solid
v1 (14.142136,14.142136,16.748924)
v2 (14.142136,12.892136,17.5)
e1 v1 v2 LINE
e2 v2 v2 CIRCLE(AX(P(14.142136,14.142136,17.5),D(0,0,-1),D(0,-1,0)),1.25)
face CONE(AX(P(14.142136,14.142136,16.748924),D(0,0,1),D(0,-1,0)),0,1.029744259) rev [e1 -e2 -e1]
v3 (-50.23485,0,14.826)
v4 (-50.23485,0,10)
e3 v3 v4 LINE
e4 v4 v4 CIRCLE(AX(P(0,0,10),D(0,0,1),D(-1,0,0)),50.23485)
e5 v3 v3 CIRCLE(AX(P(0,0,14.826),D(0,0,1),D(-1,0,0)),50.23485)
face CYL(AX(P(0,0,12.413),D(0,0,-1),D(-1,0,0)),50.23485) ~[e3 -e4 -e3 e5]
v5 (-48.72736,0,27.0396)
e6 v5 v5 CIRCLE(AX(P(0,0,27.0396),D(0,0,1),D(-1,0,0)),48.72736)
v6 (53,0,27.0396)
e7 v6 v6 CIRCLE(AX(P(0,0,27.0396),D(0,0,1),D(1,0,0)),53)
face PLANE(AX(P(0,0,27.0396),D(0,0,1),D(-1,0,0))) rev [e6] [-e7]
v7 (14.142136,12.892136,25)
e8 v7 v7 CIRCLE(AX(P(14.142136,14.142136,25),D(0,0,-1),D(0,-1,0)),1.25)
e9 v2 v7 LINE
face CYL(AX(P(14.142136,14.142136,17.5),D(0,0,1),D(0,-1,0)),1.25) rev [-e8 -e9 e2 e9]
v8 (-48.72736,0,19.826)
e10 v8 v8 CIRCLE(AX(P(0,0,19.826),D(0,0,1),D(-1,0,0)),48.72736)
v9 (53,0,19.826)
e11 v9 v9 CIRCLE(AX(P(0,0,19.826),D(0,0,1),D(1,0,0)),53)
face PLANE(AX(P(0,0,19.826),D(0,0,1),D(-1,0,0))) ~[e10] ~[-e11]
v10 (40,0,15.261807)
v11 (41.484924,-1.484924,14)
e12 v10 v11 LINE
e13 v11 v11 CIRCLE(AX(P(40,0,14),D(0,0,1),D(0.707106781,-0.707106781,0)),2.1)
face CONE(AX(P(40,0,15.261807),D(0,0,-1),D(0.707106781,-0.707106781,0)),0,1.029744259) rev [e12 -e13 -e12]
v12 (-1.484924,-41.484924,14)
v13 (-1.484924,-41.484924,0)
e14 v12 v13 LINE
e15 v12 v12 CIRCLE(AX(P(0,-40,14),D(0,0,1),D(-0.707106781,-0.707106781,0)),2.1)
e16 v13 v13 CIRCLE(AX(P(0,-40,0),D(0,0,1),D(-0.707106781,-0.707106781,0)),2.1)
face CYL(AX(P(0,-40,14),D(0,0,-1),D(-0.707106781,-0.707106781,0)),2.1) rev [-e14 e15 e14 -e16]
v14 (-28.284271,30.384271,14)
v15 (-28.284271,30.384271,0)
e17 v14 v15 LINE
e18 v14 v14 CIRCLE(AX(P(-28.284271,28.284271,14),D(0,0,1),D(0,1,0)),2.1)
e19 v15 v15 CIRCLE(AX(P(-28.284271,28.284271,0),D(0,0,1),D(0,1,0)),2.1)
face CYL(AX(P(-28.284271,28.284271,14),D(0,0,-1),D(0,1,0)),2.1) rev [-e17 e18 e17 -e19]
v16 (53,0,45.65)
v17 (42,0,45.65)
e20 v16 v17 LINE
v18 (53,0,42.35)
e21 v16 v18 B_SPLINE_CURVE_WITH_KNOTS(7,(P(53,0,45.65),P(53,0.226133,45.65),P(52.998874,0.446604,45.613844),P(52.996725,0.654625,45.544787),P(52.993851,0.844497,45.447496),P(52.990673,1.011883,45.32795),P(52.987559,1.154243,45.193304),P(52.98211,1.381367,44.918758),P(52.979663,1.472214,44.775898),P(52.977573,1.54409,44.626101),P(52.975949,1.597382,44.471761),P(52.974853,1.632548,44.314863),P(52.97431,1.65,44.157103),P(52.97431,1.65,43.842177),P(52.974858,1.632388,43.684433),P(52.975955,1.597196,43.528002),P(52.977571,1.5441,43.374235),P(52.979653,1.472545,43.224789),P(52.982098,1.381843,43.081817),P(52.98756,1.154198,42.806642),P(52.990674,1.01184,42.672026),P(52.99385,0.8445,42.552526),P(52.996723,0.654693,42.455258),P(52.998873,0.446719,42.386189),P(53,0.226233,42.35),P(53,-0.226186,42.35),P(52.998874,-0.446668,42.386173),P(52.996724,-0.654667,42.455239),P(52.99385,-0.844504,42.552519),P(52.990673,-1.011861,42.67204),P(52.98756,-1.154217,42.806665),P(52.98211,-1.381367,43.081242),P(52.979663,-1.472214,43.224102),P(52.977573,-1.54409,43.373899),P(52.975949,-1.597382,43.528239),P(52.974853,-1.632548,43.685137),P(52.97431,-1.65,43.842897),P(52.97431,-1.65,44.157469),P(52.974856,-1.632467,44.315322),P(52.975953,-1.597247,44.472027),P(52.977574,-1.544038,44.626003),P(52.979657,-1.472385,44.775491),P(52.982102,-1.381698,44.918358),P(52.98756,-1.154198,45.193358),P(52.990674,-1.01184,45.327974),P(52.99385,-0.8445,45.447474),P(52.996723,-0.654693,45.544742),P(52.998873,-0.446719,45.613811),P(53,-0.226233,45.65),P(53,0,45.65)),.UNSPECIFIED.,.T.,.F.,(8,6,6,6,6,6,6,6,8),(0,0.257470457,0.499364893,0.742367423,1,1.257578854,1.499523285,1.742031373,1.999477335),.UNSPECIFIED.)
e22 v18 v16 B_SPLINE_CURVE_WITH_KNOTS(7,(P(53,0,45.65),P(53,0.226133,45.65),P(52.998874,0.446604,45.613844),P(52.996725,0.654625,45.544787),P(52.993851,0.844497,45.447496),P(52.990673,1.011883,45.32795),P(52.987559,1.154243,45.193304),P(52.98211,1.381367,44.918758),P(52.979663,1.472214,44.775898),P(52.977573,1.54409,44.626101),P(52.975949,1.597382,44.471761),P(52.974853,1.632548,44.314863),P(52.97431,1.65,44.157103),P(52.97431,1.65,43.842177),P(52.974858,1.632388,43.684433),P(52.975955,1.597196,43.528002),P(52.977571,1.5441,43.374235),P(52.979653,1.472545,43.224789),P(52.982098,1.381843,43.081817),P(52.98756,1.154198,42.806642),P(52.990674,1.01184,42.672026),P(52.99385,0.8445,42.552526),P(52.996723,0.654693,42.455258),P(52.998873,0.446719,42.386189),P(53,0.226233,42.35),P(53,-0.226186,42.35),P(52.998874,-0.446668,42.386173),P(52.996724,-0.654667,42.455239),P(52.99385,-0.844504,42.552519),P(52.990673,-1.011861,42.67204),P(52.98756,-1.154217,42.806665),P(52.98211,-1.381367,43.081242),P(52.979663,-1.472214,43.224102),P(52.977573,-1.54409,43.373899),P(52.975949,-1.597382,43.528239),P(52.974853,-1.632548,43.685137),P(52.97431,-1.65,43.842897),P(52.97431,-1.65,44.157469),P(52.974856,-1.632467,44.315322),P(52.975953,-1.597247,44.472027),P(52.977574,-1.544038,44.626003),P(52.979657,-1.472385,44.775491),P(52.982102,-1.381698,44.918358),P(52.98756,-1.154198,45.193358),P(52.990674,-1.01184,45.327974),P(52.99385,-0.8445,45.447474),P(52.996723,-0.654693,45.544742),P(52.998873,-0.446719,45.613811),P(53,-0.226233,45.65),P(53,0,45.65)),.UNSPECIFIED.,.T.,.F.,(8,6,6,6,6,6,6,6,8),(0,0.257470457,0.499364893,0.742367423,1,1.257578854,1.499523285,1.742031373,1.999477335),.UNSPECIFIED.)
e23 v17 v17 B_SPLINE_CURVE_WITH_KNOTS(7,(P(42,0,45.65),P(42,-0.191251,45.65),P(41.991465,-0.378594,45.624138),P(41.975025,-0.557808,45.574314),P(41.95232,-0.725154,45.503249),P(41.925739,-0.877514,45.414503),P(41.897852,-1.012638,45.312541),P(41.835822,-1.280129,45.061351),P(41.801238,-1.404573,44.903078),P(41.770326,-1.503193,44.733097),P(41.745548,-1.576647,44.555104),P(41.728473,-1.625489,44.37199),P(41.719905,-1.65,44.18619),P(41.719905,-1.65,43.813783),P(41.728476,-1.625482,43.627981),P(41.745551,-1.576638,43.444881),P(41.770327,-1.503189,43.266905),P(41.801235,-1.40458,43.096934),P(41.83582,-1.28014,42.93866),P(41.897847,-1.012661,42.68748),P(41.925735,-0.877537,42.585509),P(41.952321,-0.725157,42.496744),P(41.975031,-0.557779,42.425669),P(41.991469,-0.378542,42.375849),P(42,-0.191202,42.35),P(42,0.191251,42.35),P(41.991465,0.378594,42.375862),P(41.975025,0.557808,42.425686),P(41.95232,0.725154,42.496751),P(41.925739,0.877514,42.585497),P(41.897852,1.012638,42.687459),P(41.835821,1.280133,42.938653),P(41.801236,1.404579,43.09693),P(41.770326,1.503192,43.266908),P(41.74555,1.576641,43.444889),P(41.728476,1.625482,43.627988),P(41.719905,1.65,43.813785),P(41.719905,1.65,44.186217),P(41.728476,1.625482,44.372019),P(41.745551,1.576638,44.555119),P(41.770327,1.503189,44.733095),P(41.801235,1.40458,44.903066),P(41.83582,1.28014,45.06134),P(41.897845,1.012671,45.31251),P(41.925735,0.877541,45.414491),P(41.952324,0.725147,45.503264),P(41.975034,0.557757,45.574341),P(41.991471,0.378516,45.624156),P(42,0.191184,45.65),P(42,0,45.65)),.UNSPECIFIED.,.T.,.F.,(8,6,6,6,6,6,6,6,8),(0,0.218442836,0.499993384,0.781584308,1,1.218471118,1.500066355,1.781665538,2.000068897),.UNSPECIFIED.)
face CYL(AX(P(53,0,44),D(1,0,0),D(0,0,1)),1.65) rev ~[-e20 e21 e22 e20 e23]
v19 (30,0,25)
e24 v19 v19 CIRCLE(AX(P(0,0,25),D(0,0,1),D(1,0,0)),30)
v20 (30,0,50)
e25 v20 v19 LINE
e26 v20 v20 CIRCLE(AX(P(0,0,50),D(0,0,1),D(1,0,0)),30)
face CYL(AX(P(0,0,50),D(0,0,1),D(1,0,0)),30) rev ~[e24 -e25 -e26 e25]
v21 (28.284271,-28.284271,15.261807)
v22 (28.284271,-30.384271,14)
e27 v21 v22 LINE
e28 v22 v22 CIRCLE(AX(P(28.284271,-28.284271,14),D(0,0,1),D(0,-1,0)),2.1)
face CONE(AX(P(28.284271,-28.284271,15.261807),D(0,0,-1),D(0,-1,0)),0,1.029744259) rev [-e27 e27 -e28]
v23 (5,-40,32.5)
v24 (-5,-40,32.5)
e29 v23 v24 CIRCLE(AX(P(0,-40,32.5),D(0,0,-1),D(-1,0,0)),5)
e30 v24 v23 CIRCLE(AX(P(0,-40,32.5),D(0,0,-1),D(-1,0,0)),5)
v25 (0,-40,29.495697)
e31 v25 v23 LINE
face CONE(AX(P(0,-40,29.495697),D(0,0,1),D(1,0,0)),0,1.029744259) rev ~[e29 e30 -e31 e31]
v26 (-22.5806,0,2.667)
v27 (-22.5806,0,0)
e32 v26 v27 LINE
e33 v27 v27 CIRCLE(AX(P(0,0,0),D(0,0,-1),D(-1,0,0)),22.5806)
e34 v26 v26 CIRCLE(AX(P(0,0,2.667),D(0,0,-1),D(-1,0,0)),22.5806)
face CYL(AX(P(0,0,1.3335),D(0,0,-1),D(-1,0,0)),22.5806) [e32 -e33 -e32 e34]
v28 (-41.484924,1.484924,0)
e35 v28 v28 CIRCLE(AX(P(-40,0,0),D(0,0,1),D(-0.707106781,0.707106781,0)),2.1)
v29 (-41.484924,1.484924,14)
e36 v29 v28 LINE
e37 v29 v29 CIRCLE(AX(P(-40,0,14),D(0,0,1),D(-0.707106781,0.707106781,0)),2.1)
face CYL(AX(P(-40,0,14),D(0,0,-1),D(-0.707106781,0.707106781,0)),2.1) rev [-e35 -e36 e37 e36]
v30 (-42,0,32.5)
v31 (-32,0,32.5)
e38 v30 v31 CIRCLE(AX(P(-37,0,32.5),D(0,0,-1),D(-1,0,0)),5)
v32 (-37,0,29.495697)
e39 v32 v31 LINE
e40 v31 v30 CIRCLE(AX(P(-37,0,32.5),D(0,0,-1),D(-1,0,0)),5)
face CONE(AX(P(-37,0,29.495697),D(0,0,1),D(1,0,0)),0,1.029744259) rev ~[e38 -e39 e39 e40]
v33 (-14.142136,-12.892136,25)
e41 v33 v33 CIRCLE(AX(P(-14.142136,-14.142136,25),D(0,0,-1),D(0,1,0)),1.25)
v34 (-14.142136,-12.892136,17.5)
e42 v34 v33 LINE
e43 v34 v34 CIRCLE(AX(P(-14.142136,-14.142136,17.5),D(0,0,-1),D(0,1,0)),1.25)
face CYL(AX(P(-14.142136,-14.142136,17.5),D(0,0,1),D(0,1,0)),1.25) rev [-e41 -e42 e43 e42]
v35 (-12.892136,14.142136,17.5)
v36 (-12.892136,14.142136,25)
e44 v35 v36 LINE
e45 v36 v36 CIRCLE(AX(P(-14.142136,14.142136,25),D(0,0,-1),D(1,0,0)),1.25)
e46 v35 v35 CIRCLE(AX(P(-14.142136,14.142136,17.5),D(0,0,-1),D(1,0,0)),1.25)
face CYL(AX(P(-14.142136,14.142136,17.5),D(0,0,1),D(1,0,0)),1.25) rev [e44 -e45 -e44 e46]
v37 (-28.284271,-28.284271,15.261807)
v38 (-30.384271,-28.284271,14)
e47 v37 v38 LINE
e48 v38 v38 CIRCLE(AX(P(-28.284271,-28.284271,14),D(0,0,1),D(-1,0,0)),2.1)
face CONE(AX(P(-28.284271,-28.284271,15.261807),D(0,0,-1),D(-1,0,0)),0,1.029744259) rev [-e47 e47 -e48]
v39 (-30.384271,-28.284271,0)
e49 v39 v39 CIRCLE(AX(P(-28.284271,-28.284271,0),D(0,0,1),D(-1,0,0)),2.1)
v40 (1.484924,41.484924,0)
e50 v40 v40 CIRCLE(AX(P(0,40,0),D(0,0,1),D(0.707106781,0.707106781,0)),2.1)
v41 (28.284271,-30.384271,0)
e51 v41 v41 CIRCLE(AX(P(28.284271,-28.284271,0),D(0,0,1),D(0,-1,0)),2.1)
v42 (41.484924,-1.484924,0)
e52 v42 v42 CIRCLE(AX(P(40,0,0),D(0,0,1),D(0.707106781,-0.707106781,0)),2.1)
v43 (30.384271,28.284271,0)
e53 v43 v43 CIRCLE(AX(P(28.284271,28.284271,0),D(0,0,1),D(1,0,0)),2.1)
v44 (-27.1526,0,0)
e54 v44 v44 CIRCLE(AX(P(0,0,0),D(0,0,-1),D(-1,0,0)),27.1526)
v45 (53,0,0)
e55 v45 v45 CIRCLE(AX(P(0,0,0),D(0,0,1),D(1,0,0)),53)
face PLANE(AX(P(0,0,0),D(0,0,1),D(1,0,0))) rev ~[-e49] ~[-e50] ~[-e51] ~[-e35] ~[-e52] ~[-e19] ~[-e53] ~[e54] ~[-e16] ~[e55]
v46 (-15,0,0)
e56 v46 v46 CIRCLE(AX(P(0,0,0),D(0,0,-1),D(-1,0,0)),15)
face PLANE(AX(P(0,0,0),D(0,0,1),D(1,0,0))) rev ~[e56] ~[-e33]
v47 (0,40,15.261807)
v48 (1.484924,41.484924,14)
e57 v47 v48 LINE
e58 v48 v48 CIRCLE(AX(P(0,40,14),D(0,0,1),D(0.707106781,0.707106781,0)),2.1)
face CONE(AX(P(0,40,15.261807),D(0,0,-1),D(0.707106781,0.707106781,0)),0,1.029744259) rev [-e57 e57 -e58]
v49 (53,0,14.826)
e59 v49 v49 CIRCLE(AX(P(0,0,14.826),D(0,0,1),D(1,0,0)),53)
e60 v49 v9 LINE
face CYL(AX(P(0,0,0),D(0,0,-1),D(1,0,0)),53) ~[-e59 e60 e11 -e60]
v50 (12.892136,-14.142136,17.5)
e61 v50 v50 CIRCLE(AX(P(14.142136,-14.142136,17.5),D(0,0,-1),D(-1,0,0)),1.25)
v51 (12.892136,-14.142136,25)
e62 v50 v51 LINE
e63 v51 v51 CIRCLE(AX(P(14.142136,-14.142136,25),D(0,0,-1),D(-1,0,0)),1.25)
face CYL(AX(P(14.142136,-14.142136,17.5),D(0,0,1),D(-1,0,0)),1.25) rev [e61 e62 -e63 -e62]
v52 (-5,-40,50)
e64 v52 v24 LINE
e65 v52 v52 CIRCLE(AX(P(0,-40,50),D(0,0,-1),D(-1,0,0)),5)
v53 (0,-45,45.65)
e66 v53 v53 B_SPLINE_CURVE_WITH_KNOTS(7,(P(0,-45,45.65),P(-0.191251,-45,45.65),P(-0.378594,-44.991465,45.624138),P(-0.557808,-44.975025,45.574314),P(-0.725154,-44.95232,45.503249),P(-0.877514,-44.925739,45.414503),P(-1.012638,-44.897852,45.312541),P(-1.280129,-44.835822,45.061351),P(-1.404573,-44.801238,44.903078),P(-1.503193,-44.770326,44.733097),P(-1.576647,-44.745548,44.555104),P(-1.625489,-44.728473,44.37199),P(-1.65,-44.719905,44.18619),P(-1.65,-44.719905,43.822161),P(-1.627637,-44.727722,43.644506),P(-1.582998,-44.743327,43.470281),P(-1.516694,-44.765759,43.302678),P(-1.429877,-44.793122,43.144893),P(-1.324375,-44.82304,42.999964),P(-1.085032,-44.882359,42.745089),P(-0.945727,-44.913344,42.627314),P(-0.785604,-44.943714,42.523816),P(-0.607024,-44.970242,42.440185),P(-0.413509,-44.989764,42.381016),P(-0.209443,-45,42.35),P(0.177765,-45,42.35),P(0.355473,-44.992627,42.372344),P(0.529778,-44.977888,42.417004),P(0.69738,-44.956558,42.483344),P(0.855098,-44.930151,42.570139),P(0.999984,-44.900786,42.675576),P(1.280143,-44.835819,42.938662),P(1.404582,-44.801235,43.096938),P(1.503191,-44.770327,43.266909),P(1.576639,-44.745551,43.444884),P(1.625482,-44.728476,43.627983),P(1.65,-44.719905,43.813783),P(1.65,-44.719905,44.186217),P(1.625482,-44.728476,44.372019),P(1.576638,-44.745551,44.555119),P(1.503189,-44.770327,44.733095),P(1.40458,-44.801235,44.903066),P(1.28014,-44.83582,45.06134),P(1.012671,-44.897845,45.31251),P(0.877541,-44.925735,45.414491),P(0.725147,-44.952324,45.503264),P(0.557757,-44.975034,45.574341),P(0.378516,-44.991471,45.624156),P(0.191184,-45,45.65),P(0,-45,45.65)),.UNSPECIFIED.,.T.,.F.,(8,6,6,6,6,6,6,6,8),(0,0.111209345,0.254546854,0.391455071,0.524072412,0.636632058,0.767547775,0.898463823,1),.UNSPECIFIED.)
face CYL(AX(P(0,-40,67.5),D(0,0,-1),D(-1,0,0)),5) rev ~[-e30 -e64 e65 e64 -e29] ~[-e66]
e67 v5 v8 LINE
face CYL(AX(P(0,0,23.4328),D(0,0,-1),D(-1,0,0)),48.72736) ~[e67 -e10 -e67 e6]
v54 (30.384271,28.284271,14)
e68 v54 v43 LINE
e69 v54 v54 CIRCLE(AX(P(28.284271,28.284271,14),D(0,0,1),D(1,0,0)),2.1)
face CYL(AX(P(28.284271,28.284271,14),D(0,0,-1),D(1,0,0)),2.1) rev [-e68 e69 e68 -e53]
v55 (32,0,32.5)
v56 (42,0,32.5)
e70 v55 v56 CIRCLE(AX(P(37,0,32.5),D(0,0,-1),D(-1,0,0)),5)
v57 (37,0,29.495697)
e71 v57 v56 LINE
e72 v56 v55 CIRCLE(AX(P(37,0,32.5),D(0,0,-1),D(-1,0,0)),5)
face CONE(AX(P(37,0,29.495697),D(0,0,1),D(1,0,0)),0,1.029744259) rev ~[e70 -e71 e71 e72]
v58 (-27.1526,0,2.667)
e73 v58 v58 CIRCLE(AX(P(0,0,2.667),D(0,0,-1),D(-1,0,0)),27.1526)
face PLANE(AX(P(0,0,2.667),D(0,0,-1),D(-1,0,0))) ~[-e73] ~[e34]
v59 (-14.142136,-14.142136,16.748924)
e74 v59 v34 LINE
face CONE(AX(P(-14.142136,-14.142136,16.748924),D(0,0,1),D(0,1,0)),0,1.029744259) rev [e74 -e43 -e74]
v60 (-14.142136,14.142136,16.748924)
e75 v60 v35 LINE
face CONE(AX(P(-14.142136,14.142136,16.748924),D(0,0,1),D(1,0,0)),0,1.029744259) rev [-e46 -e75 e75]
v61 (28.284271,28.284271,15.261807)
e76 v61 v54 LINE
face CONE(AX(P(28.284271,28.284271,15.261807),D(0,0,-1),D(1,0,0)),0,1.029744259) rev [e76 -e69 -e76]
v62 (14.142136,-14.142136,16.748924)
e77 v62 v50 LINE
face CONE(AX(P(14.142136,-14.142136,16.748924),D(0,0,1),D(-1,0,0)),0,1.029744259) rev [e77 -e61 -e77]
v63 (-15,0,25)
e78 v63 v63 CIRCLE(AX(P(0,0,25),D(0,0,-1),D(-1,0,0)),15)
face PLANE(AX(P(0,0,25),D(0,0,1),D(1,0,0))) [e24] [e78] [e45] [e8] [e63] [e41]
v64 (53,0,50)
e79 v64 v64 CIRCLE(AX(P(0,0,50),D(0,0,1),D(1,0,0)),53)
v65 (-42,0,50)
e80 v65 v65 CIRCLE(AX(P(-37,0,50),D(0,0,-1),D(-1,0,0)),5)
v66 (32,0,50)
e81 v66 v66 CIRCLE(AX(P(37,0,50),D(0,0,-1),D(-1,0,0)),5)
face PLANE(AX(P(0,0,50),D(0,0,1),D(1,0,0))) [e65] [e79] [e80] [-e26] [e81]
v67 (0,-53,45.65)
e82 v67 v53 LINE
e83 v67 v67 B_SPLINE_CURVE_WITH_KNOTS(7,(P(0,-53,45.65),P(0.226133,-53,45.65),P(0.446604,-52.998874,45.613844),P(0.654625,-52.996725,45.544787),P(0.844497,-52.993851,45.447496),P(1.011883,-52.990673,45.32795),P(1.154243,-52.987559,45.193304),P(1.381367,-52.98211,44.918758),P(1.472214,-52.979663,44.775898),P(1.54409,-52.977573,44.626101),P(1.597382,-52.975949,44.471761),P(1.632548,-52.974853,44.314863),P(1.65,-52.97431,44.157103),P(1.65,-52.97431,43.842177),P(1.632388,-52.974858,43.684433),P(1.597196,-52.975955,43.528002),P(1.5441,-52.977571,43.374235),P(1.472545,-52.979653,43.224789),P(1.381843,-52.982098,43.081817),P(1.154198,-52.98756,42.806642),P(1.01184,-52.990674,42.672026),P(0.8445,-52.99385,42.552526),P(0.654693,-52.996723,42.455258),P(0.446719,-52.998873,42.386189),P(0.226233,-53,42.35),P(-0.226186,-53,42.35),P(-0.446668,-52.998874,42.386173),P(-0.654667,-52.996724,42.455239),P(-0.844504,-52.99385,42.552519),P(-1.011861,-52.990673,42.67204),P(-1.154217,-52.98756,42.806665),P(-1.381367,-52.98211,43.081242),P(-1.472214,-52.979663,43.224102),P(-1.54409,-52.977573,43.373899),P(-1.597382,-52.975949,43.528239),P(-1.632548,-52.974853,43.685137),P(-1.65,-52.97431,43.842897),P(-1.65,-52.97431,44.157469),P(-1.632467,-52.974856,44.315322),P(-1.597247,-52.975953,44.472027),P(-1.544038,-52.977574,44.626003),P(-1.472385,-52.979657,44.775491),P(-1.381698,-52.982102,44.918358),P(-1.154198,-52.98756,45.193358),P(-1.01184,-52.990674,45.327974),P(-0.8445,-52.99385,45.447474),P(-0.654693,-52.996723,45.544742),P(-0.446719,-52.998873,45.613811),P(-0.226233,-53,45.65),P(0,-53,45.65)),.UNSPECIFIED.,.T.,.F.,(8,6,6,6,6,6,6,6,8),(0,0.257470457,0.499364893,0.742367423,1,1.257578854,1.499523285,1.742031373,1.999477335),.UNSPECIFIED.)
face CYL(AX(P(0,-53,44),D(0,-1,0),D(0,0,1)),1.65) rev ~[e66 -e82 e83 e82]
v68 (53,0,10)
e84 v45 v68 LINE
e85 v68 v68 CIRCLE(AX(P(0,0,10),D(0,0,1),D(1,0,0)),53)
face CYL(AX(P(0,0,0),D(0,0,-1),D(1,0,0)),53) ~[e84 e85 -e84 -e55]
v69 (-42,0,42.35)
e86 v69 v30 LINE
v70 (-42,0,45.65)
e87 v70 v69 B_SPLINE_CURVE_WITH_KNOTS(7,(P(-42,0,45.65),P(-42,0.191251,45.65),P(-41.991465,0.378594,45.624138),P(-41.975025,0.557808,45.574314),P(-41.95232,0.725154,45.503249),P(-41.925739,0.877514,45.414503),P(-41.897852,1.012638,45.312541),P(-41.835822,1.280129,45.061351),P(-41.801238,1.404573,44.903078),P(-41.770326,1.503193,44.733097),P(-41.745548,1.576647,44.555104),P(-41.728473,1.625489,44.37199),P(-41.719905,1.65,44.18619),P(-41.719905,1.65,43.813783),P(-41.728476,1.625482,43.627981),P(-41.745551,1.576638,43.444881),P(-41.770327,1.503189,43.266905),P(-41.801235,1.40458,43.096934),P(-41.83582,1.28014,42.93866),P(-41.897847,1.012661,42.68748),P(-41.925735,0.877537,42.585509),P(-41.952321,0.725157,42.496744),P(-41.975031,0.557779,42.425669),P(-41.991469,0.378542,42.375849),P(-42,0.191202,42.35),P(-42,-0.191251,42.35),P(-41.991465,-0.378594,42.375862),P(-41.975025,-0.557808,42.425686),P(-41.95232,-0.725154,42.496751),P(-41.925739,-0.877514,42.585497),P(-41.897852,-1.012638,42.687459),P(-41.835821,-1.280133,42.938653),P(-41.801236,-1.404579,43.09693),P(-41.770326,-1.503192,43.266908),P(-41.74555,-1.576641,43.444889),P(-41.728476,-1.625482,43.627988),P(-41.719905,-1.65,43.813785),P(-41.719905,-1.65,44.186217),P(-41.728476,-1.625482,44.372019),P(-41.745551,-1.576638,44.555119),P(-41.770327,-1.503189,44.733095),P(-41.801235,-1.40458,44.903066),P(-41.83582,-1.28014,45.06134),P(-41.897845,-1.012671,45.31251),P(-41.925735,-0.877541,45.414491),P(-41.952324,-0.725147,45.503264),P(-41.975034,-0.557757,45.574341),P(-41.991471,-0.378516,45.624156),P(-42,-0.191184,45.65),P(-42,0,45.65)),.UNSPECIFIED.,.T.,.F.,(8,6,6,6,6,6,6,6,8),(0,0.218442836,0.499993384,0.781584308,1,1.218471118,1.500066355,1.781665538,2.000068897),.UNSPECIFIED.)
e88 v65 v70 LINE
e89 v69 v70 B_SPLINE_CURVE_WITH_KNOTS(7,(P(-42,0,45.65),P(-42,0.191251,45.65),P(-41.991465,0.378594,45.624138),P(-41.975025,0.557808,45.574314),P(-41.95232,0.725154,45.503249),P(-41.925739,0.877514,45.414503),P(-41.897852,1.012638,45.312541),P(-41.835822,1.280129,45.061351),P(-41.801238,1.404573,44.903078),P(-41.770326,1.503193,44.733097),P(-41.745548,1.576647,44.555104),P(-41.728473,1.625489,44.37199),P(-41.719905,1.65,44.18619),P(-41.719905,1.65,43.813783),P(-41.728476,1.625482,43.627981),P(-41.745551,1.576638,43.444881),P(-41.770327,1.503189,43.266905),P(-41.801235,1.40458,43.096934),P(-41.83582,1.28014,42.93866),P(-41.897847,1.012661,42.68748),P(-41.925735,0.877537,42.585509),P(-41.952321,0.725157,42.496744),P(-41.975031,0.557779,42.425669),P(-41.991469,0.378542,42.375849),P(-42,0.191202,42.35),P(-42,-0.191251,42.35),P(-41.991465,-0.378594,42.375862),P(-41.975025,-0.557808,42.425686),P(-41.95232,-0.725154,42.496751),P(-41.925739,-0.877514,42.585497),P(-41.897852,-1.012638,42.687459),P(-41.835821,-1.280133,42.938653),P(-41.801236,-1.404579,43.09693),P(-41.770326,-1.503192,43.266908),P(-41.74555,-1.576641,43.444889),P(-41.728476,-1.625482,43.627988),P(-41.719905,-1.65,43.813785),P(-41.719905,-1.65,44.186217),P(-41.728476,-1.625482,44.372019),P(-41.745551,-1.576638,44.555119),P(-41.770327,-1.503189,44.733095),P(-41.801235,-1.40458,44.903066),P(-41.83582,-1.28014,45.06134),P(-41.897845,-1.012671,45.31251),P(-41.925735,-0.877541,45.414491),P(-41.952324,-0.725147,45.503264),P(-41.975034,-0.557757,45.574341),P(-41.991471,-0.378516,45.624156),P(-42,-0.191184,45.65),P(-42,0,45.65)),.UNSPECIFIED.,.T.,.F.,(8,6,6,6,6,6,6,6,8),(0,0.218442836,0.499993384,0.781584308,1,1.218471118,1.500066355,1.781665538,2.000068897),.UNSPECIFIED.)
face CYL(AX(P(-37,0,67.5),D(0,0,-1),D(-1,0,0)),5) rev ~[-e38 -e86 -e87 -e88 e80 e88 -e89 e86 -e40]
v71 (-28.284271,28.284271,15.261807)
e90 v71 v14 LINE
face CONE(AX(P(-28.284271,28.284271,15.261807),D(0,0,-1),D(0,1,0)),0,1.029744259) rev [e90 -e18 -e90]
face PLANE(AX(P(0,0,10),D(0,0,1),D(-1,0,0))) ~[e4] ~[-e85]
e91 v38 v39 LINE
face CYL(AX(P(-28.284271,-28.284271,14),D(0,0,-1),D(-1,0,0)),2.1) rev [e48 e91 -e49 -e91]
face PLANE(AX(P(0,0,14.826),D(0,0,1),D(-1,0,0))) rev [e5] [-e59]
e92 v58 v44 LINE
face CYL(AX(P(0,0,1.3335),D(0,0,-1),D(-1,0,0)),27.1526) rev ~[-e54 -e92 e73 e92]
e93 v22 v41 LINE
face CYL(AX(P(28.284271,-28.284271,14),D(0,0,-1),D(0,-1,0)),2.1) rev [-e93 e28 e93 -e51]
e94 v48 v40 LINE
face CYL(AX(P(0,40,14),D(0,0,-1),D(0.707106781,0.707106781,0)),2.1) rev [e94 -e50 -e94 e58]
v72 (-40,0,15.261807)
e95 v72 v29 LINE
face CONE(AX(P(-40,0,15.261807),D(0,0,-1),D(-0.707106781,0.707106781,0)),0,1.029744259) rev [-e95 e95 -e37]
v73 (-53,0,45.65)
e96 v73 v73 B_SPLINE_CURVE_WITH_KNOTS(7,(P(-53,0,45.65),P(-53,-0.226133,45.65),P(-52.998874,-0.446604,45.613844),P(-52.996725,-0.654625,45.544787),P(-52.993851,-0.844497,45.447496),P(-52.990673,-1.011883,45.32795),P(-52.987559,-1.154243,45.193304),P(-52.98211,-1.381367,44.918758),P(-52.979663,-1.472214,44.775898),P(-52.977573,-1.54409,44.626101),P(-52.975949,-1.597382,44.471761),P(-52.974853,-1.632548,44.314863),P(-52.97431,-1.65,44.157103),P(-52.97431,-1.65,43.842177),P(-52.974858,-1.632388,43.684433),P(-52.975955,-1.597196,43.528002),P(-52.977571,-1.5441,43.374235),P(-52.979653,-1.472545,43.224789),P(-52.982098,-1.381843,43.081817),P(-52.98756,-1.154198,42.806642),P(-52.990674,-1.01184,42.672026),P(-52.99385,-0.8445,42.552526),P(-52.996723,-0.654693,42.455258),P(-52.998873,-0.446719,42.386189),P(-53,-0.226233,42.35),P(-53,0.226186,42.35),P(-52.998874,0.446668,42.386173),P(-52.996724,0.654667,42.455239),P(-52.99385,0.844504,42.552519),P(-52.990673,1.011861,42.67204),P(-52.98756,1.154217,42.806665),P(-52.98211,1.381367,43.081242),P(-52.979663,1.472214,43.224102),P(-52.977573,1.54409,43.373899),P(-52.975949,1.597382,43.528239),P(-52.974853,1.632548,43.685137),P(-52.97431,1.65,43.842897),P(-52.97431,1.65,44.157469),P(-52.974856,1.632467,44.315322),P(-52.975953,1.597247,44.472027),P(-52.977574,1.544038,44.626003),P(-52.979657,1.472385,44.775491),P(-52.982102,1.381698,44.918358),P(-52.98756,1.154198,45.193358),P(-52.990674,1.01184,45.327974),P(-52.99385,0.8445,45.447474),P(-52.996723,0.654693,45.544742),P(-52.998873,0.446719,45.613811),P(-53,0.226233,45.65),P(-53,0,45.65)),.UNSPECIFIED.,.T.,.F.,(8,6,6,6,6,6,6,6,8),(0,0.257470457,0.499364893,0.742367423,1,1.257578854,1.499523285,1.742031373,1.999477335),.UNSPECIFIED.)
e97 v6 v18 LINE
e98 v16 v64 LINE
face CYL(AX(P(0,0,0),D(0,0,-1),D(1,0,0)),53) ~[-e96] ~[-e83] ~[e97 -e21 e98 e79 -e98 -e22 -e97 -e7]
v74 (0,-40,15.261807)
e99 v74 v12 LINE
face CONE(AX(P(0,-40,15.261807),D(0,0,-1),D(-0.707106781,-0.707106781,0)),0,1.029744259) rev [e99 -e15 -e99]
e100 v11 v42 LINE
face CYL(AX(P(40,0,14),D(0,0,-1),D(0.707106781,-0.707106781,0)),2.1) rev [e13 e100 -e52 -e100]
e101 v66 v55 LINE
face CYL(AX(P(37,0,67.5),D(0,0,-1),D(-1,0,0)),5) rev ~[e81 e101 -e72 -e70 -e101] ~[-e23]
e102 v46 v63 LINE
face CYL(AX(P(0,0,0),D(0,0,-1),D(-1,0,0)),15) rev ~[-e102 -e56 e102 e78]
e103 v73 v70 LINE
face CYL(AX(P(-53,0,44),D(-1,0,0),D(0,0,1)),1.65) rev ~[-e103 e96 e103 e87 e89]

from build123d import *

# Parameters (mm, degrees)
SKETCH1_R                      = 53
BOSS_EXTRUDE1_DEPTH            = 50
F_10_0_10_DIAMETER_HOLE1_D     = 10
F_10_0_10_DIAMETER_HOLE1_DEPTH = 17.5
F_10_0_10_DIAMETER_HOLE1_TIP   = 3.004303095
M4_TAPPED_HOLE1_REACH          = 130.627
M4_TAPPED_HOLE1_BORE_R         = 1.65
CIRPATTERN1_COUNT              = 3
CIRPATTERN1_ANGLE              = 180
SKETCH11_R                     = 30
CUT_EXTRUDE2_DEPTH             = 25
SKETCH12_W                     = 4.826
SKETCH12_H                     = 2.76515
SKETCH12_W_2                   = 7.2136
SKETCH12_H_2                   = 4.27264
SKETCH14_W                     = 2.667
SKETCH14_H                     = 4.572
CUT_EXTRUDE3_REACH             = 92.1
SKETCH15_R                     = 15
CIRPATTERN2_COUNT              = 8
CIRPATTERN3_COUNT              = 4


with BuildPart() as part:
    # Sketch1 → Boss-Extrude1 (new body)
    with BuildSketch(Plane.XY):
        Circle(SKETCH1_R)
    extrude(amount=BOSS_EXTRUDE1_DEPTH)

    # Ø10.0 (10) Diameter Hole1
    with Locations(Plane.XY.offset(50)):
        with Locations((-37, 0), (37, 0), (0, -40)):
            Hole(F_10_0_10_DIAMETER_HOLE1_D / 2, depth=F_10_0_10_DIAMETER_HOLE1_DEPTH)
            with Locations((0, 0, -(F_10_0_10_DIAMETER_HOLE1_DEPTH + F_10_0_10_DIAMETER_HOLE1_TIP / 2))):  # 118° drill point
                Cone(0, F_10_0_10_DIAMETER_HOLE1_D / 2, F_10_0_10_DIAMETER_HOLE1_TIP, mode=Mode.SUBTRACT)

    # M4 Tapped Hole1 bore → M4 Tapped Hole1 (cut, up to next)
    with BuildSketch(Plane.ZY.offset(53), mode=Mode.PRIVATE) as m4_tapped_hole1_sk1:
        with Locations((44, 0)):
            Circle(M4_TAPPED_HOLE1_BORE_R)
    m4_tapped_hole1_tool1 = extrude(m4_tapped_hole1_sk1.sketch, amount=-M4_TAPPED_HOLE1_REACH, mode=Mode.PRIVATE) & part.part
    m4_tapped_hole1 = m4_tapped_hole1_tool1.solids().sort_by_distance((-53, 0, 44))[0]
    add(m4_tapped_hole1, mode=Mode.SUBTRACT)

    # CirPattern1: M4 Tapped Hole1 ×3 about axis
    cirpattern1_axis = Axis((0, 0, 50), (0, 0, 1))
    for i in range(1, CIRPATTERN1_COUNT):
        add(m4_tapped_hole1.rotate(cirpattern1_axis, i * CIRPATTERN1_ANGLE / (CIRPATTERN1_COUNT - 1)), mode=Mode.SUBTRACT)

    # Sketch11 → Cut-Extrude2 (cut)
    with BuildSketch(Plane.XY.offset(50)):
        Circle(SKETCH11_R)
    extrude(amount=-CUT_EXTRUDE2_DEPTH, mode=Mode.SUBTRACT)

    # Sketch12 → Cut-Revolve1 (revolve, cut)
    with BuildSketch(Plane(origin=(0, 0, 0), x_dir=(0, 0, -1), z_dir=(1, 0, 0)), mode=Mode.PRIVATE) as cut_revolve1_sk:
        with Locations((-12.413, 51.617425)):
            Rectangle(SKETCH12_W, SKETCH12_H)
        with Locations((-23.4328, 50.86368)):
            Rectangle(SKETCH12_W_2, SKETCH12_H_2)
    revolve(cut_revolve1_sk.sketch.rotate(Axis((0, 0, 0), (0, 0, 1)), 90), axis=Axis((0, 0, 0), (0, 0, 1)), mode=Mode.SUBTRACT)

    # Sketch14 → Cut-Revolve2 (revolve, cut)
    with BuildSketch(Plane(origin=(0, 0, 0), x_dir=(0, 0, -1), z_dir=(1, 0, 0)), mode=Mode.PRIVATE) as cut_revolve2_sk:
        with Locations((-1.3335, 24.8666)):
            Rectangle(SKETCH14_W, SKETCH14_H)
    revolve(cut_revolve2_sk.sketch.rotate(Axis((0, 0, 0), (0, 0, -1)), 270), axis=Axis((0, 0, 0), (0, 0, -1)), mode=Mode.SUBTRACT)

    # Sketch15 → Cut-Extrude3 (cut, up to next)
    with BuildSketch(Plane(origin=(0, 0, 0), x_dir=(-1, 0, 0), z_dir=(0, 0, -1)), mode=Mode.PRIVATE) as cut_extrude3_sk1:
        Circle(SKETCH15_R)
    cut_extrude3_tool1 = extrude(cut_extrude3_sk1.sketch, amount=-CUT_EXTRUDE3_REACH, mode=Mode.PRIVATE) & part.part
    add(cut_extrude3_tool1.solids().sort_by_distance((0, 0, 0))[0], mode=Mode.SUBTRACT)

    # Sketch17 → M5 Tapped Hole1 (revolve, cut)
    with BuildSketch(Plane(origin=(-28.284271247, 28.284271247, 0), x_dir=(0, 1, 0), z_dir=(1, 0, 0))):
        Polygon((0, 0), (0, 15.2618073), (2.1, 14), (2.1, 0), align=None)
    m5_tapped_hole1 = revolve(axis=Axis((-28.284271247, 28.284271247, -6.35), (0, 0, 1)), mode=Mode.SUBTRACT)

    # CirPattern2: M5 Tapped Hole1 ×8 about axis
    cirpattern2_axis = Axis((0, 0, 0), (0, 0, 1))
    for i in range(1, CIRPATTERN2_COUNT):
        add(m5_tapped_hole1.rotate(cirpattern2_axis, i * 360 / CIRPATTERN2_COUNT), mode=Mode.SUBTRACT)

    # Sketch19 → M3 Tapped Hole1 (revolve, cut)
    with BuildSketch(Plane(origin=(14.142135624, 14.142135624, 25), x_dir=(0, -1, 0), z_dir=(1, 0, 0))):
        Polygon((0, 0), (0, 8.251075774), (1.25, 7.5), (1.25, 0), align=None)
    m3_tapped_hole1 = revolve(axis=Axis((14.142135624, 14.142135624, 31.35), (0, 0, -1)), mode=Mode.SUBTRACT)

    # CirPattern3: M3 Tapped Hole1 ×4 about axis
    cirpattern3_axis = Axis((0, 0, 0), (0, 0, 1))
    for i in range(1, CIRPATTERN3_COUNT):
        add(m3_tapped_hole1.rotate(cirpattern3_axis, i * 360 / CIRPATTERN3_COUNT), mode=Mode.SUBTRACT)


solid = part.part
